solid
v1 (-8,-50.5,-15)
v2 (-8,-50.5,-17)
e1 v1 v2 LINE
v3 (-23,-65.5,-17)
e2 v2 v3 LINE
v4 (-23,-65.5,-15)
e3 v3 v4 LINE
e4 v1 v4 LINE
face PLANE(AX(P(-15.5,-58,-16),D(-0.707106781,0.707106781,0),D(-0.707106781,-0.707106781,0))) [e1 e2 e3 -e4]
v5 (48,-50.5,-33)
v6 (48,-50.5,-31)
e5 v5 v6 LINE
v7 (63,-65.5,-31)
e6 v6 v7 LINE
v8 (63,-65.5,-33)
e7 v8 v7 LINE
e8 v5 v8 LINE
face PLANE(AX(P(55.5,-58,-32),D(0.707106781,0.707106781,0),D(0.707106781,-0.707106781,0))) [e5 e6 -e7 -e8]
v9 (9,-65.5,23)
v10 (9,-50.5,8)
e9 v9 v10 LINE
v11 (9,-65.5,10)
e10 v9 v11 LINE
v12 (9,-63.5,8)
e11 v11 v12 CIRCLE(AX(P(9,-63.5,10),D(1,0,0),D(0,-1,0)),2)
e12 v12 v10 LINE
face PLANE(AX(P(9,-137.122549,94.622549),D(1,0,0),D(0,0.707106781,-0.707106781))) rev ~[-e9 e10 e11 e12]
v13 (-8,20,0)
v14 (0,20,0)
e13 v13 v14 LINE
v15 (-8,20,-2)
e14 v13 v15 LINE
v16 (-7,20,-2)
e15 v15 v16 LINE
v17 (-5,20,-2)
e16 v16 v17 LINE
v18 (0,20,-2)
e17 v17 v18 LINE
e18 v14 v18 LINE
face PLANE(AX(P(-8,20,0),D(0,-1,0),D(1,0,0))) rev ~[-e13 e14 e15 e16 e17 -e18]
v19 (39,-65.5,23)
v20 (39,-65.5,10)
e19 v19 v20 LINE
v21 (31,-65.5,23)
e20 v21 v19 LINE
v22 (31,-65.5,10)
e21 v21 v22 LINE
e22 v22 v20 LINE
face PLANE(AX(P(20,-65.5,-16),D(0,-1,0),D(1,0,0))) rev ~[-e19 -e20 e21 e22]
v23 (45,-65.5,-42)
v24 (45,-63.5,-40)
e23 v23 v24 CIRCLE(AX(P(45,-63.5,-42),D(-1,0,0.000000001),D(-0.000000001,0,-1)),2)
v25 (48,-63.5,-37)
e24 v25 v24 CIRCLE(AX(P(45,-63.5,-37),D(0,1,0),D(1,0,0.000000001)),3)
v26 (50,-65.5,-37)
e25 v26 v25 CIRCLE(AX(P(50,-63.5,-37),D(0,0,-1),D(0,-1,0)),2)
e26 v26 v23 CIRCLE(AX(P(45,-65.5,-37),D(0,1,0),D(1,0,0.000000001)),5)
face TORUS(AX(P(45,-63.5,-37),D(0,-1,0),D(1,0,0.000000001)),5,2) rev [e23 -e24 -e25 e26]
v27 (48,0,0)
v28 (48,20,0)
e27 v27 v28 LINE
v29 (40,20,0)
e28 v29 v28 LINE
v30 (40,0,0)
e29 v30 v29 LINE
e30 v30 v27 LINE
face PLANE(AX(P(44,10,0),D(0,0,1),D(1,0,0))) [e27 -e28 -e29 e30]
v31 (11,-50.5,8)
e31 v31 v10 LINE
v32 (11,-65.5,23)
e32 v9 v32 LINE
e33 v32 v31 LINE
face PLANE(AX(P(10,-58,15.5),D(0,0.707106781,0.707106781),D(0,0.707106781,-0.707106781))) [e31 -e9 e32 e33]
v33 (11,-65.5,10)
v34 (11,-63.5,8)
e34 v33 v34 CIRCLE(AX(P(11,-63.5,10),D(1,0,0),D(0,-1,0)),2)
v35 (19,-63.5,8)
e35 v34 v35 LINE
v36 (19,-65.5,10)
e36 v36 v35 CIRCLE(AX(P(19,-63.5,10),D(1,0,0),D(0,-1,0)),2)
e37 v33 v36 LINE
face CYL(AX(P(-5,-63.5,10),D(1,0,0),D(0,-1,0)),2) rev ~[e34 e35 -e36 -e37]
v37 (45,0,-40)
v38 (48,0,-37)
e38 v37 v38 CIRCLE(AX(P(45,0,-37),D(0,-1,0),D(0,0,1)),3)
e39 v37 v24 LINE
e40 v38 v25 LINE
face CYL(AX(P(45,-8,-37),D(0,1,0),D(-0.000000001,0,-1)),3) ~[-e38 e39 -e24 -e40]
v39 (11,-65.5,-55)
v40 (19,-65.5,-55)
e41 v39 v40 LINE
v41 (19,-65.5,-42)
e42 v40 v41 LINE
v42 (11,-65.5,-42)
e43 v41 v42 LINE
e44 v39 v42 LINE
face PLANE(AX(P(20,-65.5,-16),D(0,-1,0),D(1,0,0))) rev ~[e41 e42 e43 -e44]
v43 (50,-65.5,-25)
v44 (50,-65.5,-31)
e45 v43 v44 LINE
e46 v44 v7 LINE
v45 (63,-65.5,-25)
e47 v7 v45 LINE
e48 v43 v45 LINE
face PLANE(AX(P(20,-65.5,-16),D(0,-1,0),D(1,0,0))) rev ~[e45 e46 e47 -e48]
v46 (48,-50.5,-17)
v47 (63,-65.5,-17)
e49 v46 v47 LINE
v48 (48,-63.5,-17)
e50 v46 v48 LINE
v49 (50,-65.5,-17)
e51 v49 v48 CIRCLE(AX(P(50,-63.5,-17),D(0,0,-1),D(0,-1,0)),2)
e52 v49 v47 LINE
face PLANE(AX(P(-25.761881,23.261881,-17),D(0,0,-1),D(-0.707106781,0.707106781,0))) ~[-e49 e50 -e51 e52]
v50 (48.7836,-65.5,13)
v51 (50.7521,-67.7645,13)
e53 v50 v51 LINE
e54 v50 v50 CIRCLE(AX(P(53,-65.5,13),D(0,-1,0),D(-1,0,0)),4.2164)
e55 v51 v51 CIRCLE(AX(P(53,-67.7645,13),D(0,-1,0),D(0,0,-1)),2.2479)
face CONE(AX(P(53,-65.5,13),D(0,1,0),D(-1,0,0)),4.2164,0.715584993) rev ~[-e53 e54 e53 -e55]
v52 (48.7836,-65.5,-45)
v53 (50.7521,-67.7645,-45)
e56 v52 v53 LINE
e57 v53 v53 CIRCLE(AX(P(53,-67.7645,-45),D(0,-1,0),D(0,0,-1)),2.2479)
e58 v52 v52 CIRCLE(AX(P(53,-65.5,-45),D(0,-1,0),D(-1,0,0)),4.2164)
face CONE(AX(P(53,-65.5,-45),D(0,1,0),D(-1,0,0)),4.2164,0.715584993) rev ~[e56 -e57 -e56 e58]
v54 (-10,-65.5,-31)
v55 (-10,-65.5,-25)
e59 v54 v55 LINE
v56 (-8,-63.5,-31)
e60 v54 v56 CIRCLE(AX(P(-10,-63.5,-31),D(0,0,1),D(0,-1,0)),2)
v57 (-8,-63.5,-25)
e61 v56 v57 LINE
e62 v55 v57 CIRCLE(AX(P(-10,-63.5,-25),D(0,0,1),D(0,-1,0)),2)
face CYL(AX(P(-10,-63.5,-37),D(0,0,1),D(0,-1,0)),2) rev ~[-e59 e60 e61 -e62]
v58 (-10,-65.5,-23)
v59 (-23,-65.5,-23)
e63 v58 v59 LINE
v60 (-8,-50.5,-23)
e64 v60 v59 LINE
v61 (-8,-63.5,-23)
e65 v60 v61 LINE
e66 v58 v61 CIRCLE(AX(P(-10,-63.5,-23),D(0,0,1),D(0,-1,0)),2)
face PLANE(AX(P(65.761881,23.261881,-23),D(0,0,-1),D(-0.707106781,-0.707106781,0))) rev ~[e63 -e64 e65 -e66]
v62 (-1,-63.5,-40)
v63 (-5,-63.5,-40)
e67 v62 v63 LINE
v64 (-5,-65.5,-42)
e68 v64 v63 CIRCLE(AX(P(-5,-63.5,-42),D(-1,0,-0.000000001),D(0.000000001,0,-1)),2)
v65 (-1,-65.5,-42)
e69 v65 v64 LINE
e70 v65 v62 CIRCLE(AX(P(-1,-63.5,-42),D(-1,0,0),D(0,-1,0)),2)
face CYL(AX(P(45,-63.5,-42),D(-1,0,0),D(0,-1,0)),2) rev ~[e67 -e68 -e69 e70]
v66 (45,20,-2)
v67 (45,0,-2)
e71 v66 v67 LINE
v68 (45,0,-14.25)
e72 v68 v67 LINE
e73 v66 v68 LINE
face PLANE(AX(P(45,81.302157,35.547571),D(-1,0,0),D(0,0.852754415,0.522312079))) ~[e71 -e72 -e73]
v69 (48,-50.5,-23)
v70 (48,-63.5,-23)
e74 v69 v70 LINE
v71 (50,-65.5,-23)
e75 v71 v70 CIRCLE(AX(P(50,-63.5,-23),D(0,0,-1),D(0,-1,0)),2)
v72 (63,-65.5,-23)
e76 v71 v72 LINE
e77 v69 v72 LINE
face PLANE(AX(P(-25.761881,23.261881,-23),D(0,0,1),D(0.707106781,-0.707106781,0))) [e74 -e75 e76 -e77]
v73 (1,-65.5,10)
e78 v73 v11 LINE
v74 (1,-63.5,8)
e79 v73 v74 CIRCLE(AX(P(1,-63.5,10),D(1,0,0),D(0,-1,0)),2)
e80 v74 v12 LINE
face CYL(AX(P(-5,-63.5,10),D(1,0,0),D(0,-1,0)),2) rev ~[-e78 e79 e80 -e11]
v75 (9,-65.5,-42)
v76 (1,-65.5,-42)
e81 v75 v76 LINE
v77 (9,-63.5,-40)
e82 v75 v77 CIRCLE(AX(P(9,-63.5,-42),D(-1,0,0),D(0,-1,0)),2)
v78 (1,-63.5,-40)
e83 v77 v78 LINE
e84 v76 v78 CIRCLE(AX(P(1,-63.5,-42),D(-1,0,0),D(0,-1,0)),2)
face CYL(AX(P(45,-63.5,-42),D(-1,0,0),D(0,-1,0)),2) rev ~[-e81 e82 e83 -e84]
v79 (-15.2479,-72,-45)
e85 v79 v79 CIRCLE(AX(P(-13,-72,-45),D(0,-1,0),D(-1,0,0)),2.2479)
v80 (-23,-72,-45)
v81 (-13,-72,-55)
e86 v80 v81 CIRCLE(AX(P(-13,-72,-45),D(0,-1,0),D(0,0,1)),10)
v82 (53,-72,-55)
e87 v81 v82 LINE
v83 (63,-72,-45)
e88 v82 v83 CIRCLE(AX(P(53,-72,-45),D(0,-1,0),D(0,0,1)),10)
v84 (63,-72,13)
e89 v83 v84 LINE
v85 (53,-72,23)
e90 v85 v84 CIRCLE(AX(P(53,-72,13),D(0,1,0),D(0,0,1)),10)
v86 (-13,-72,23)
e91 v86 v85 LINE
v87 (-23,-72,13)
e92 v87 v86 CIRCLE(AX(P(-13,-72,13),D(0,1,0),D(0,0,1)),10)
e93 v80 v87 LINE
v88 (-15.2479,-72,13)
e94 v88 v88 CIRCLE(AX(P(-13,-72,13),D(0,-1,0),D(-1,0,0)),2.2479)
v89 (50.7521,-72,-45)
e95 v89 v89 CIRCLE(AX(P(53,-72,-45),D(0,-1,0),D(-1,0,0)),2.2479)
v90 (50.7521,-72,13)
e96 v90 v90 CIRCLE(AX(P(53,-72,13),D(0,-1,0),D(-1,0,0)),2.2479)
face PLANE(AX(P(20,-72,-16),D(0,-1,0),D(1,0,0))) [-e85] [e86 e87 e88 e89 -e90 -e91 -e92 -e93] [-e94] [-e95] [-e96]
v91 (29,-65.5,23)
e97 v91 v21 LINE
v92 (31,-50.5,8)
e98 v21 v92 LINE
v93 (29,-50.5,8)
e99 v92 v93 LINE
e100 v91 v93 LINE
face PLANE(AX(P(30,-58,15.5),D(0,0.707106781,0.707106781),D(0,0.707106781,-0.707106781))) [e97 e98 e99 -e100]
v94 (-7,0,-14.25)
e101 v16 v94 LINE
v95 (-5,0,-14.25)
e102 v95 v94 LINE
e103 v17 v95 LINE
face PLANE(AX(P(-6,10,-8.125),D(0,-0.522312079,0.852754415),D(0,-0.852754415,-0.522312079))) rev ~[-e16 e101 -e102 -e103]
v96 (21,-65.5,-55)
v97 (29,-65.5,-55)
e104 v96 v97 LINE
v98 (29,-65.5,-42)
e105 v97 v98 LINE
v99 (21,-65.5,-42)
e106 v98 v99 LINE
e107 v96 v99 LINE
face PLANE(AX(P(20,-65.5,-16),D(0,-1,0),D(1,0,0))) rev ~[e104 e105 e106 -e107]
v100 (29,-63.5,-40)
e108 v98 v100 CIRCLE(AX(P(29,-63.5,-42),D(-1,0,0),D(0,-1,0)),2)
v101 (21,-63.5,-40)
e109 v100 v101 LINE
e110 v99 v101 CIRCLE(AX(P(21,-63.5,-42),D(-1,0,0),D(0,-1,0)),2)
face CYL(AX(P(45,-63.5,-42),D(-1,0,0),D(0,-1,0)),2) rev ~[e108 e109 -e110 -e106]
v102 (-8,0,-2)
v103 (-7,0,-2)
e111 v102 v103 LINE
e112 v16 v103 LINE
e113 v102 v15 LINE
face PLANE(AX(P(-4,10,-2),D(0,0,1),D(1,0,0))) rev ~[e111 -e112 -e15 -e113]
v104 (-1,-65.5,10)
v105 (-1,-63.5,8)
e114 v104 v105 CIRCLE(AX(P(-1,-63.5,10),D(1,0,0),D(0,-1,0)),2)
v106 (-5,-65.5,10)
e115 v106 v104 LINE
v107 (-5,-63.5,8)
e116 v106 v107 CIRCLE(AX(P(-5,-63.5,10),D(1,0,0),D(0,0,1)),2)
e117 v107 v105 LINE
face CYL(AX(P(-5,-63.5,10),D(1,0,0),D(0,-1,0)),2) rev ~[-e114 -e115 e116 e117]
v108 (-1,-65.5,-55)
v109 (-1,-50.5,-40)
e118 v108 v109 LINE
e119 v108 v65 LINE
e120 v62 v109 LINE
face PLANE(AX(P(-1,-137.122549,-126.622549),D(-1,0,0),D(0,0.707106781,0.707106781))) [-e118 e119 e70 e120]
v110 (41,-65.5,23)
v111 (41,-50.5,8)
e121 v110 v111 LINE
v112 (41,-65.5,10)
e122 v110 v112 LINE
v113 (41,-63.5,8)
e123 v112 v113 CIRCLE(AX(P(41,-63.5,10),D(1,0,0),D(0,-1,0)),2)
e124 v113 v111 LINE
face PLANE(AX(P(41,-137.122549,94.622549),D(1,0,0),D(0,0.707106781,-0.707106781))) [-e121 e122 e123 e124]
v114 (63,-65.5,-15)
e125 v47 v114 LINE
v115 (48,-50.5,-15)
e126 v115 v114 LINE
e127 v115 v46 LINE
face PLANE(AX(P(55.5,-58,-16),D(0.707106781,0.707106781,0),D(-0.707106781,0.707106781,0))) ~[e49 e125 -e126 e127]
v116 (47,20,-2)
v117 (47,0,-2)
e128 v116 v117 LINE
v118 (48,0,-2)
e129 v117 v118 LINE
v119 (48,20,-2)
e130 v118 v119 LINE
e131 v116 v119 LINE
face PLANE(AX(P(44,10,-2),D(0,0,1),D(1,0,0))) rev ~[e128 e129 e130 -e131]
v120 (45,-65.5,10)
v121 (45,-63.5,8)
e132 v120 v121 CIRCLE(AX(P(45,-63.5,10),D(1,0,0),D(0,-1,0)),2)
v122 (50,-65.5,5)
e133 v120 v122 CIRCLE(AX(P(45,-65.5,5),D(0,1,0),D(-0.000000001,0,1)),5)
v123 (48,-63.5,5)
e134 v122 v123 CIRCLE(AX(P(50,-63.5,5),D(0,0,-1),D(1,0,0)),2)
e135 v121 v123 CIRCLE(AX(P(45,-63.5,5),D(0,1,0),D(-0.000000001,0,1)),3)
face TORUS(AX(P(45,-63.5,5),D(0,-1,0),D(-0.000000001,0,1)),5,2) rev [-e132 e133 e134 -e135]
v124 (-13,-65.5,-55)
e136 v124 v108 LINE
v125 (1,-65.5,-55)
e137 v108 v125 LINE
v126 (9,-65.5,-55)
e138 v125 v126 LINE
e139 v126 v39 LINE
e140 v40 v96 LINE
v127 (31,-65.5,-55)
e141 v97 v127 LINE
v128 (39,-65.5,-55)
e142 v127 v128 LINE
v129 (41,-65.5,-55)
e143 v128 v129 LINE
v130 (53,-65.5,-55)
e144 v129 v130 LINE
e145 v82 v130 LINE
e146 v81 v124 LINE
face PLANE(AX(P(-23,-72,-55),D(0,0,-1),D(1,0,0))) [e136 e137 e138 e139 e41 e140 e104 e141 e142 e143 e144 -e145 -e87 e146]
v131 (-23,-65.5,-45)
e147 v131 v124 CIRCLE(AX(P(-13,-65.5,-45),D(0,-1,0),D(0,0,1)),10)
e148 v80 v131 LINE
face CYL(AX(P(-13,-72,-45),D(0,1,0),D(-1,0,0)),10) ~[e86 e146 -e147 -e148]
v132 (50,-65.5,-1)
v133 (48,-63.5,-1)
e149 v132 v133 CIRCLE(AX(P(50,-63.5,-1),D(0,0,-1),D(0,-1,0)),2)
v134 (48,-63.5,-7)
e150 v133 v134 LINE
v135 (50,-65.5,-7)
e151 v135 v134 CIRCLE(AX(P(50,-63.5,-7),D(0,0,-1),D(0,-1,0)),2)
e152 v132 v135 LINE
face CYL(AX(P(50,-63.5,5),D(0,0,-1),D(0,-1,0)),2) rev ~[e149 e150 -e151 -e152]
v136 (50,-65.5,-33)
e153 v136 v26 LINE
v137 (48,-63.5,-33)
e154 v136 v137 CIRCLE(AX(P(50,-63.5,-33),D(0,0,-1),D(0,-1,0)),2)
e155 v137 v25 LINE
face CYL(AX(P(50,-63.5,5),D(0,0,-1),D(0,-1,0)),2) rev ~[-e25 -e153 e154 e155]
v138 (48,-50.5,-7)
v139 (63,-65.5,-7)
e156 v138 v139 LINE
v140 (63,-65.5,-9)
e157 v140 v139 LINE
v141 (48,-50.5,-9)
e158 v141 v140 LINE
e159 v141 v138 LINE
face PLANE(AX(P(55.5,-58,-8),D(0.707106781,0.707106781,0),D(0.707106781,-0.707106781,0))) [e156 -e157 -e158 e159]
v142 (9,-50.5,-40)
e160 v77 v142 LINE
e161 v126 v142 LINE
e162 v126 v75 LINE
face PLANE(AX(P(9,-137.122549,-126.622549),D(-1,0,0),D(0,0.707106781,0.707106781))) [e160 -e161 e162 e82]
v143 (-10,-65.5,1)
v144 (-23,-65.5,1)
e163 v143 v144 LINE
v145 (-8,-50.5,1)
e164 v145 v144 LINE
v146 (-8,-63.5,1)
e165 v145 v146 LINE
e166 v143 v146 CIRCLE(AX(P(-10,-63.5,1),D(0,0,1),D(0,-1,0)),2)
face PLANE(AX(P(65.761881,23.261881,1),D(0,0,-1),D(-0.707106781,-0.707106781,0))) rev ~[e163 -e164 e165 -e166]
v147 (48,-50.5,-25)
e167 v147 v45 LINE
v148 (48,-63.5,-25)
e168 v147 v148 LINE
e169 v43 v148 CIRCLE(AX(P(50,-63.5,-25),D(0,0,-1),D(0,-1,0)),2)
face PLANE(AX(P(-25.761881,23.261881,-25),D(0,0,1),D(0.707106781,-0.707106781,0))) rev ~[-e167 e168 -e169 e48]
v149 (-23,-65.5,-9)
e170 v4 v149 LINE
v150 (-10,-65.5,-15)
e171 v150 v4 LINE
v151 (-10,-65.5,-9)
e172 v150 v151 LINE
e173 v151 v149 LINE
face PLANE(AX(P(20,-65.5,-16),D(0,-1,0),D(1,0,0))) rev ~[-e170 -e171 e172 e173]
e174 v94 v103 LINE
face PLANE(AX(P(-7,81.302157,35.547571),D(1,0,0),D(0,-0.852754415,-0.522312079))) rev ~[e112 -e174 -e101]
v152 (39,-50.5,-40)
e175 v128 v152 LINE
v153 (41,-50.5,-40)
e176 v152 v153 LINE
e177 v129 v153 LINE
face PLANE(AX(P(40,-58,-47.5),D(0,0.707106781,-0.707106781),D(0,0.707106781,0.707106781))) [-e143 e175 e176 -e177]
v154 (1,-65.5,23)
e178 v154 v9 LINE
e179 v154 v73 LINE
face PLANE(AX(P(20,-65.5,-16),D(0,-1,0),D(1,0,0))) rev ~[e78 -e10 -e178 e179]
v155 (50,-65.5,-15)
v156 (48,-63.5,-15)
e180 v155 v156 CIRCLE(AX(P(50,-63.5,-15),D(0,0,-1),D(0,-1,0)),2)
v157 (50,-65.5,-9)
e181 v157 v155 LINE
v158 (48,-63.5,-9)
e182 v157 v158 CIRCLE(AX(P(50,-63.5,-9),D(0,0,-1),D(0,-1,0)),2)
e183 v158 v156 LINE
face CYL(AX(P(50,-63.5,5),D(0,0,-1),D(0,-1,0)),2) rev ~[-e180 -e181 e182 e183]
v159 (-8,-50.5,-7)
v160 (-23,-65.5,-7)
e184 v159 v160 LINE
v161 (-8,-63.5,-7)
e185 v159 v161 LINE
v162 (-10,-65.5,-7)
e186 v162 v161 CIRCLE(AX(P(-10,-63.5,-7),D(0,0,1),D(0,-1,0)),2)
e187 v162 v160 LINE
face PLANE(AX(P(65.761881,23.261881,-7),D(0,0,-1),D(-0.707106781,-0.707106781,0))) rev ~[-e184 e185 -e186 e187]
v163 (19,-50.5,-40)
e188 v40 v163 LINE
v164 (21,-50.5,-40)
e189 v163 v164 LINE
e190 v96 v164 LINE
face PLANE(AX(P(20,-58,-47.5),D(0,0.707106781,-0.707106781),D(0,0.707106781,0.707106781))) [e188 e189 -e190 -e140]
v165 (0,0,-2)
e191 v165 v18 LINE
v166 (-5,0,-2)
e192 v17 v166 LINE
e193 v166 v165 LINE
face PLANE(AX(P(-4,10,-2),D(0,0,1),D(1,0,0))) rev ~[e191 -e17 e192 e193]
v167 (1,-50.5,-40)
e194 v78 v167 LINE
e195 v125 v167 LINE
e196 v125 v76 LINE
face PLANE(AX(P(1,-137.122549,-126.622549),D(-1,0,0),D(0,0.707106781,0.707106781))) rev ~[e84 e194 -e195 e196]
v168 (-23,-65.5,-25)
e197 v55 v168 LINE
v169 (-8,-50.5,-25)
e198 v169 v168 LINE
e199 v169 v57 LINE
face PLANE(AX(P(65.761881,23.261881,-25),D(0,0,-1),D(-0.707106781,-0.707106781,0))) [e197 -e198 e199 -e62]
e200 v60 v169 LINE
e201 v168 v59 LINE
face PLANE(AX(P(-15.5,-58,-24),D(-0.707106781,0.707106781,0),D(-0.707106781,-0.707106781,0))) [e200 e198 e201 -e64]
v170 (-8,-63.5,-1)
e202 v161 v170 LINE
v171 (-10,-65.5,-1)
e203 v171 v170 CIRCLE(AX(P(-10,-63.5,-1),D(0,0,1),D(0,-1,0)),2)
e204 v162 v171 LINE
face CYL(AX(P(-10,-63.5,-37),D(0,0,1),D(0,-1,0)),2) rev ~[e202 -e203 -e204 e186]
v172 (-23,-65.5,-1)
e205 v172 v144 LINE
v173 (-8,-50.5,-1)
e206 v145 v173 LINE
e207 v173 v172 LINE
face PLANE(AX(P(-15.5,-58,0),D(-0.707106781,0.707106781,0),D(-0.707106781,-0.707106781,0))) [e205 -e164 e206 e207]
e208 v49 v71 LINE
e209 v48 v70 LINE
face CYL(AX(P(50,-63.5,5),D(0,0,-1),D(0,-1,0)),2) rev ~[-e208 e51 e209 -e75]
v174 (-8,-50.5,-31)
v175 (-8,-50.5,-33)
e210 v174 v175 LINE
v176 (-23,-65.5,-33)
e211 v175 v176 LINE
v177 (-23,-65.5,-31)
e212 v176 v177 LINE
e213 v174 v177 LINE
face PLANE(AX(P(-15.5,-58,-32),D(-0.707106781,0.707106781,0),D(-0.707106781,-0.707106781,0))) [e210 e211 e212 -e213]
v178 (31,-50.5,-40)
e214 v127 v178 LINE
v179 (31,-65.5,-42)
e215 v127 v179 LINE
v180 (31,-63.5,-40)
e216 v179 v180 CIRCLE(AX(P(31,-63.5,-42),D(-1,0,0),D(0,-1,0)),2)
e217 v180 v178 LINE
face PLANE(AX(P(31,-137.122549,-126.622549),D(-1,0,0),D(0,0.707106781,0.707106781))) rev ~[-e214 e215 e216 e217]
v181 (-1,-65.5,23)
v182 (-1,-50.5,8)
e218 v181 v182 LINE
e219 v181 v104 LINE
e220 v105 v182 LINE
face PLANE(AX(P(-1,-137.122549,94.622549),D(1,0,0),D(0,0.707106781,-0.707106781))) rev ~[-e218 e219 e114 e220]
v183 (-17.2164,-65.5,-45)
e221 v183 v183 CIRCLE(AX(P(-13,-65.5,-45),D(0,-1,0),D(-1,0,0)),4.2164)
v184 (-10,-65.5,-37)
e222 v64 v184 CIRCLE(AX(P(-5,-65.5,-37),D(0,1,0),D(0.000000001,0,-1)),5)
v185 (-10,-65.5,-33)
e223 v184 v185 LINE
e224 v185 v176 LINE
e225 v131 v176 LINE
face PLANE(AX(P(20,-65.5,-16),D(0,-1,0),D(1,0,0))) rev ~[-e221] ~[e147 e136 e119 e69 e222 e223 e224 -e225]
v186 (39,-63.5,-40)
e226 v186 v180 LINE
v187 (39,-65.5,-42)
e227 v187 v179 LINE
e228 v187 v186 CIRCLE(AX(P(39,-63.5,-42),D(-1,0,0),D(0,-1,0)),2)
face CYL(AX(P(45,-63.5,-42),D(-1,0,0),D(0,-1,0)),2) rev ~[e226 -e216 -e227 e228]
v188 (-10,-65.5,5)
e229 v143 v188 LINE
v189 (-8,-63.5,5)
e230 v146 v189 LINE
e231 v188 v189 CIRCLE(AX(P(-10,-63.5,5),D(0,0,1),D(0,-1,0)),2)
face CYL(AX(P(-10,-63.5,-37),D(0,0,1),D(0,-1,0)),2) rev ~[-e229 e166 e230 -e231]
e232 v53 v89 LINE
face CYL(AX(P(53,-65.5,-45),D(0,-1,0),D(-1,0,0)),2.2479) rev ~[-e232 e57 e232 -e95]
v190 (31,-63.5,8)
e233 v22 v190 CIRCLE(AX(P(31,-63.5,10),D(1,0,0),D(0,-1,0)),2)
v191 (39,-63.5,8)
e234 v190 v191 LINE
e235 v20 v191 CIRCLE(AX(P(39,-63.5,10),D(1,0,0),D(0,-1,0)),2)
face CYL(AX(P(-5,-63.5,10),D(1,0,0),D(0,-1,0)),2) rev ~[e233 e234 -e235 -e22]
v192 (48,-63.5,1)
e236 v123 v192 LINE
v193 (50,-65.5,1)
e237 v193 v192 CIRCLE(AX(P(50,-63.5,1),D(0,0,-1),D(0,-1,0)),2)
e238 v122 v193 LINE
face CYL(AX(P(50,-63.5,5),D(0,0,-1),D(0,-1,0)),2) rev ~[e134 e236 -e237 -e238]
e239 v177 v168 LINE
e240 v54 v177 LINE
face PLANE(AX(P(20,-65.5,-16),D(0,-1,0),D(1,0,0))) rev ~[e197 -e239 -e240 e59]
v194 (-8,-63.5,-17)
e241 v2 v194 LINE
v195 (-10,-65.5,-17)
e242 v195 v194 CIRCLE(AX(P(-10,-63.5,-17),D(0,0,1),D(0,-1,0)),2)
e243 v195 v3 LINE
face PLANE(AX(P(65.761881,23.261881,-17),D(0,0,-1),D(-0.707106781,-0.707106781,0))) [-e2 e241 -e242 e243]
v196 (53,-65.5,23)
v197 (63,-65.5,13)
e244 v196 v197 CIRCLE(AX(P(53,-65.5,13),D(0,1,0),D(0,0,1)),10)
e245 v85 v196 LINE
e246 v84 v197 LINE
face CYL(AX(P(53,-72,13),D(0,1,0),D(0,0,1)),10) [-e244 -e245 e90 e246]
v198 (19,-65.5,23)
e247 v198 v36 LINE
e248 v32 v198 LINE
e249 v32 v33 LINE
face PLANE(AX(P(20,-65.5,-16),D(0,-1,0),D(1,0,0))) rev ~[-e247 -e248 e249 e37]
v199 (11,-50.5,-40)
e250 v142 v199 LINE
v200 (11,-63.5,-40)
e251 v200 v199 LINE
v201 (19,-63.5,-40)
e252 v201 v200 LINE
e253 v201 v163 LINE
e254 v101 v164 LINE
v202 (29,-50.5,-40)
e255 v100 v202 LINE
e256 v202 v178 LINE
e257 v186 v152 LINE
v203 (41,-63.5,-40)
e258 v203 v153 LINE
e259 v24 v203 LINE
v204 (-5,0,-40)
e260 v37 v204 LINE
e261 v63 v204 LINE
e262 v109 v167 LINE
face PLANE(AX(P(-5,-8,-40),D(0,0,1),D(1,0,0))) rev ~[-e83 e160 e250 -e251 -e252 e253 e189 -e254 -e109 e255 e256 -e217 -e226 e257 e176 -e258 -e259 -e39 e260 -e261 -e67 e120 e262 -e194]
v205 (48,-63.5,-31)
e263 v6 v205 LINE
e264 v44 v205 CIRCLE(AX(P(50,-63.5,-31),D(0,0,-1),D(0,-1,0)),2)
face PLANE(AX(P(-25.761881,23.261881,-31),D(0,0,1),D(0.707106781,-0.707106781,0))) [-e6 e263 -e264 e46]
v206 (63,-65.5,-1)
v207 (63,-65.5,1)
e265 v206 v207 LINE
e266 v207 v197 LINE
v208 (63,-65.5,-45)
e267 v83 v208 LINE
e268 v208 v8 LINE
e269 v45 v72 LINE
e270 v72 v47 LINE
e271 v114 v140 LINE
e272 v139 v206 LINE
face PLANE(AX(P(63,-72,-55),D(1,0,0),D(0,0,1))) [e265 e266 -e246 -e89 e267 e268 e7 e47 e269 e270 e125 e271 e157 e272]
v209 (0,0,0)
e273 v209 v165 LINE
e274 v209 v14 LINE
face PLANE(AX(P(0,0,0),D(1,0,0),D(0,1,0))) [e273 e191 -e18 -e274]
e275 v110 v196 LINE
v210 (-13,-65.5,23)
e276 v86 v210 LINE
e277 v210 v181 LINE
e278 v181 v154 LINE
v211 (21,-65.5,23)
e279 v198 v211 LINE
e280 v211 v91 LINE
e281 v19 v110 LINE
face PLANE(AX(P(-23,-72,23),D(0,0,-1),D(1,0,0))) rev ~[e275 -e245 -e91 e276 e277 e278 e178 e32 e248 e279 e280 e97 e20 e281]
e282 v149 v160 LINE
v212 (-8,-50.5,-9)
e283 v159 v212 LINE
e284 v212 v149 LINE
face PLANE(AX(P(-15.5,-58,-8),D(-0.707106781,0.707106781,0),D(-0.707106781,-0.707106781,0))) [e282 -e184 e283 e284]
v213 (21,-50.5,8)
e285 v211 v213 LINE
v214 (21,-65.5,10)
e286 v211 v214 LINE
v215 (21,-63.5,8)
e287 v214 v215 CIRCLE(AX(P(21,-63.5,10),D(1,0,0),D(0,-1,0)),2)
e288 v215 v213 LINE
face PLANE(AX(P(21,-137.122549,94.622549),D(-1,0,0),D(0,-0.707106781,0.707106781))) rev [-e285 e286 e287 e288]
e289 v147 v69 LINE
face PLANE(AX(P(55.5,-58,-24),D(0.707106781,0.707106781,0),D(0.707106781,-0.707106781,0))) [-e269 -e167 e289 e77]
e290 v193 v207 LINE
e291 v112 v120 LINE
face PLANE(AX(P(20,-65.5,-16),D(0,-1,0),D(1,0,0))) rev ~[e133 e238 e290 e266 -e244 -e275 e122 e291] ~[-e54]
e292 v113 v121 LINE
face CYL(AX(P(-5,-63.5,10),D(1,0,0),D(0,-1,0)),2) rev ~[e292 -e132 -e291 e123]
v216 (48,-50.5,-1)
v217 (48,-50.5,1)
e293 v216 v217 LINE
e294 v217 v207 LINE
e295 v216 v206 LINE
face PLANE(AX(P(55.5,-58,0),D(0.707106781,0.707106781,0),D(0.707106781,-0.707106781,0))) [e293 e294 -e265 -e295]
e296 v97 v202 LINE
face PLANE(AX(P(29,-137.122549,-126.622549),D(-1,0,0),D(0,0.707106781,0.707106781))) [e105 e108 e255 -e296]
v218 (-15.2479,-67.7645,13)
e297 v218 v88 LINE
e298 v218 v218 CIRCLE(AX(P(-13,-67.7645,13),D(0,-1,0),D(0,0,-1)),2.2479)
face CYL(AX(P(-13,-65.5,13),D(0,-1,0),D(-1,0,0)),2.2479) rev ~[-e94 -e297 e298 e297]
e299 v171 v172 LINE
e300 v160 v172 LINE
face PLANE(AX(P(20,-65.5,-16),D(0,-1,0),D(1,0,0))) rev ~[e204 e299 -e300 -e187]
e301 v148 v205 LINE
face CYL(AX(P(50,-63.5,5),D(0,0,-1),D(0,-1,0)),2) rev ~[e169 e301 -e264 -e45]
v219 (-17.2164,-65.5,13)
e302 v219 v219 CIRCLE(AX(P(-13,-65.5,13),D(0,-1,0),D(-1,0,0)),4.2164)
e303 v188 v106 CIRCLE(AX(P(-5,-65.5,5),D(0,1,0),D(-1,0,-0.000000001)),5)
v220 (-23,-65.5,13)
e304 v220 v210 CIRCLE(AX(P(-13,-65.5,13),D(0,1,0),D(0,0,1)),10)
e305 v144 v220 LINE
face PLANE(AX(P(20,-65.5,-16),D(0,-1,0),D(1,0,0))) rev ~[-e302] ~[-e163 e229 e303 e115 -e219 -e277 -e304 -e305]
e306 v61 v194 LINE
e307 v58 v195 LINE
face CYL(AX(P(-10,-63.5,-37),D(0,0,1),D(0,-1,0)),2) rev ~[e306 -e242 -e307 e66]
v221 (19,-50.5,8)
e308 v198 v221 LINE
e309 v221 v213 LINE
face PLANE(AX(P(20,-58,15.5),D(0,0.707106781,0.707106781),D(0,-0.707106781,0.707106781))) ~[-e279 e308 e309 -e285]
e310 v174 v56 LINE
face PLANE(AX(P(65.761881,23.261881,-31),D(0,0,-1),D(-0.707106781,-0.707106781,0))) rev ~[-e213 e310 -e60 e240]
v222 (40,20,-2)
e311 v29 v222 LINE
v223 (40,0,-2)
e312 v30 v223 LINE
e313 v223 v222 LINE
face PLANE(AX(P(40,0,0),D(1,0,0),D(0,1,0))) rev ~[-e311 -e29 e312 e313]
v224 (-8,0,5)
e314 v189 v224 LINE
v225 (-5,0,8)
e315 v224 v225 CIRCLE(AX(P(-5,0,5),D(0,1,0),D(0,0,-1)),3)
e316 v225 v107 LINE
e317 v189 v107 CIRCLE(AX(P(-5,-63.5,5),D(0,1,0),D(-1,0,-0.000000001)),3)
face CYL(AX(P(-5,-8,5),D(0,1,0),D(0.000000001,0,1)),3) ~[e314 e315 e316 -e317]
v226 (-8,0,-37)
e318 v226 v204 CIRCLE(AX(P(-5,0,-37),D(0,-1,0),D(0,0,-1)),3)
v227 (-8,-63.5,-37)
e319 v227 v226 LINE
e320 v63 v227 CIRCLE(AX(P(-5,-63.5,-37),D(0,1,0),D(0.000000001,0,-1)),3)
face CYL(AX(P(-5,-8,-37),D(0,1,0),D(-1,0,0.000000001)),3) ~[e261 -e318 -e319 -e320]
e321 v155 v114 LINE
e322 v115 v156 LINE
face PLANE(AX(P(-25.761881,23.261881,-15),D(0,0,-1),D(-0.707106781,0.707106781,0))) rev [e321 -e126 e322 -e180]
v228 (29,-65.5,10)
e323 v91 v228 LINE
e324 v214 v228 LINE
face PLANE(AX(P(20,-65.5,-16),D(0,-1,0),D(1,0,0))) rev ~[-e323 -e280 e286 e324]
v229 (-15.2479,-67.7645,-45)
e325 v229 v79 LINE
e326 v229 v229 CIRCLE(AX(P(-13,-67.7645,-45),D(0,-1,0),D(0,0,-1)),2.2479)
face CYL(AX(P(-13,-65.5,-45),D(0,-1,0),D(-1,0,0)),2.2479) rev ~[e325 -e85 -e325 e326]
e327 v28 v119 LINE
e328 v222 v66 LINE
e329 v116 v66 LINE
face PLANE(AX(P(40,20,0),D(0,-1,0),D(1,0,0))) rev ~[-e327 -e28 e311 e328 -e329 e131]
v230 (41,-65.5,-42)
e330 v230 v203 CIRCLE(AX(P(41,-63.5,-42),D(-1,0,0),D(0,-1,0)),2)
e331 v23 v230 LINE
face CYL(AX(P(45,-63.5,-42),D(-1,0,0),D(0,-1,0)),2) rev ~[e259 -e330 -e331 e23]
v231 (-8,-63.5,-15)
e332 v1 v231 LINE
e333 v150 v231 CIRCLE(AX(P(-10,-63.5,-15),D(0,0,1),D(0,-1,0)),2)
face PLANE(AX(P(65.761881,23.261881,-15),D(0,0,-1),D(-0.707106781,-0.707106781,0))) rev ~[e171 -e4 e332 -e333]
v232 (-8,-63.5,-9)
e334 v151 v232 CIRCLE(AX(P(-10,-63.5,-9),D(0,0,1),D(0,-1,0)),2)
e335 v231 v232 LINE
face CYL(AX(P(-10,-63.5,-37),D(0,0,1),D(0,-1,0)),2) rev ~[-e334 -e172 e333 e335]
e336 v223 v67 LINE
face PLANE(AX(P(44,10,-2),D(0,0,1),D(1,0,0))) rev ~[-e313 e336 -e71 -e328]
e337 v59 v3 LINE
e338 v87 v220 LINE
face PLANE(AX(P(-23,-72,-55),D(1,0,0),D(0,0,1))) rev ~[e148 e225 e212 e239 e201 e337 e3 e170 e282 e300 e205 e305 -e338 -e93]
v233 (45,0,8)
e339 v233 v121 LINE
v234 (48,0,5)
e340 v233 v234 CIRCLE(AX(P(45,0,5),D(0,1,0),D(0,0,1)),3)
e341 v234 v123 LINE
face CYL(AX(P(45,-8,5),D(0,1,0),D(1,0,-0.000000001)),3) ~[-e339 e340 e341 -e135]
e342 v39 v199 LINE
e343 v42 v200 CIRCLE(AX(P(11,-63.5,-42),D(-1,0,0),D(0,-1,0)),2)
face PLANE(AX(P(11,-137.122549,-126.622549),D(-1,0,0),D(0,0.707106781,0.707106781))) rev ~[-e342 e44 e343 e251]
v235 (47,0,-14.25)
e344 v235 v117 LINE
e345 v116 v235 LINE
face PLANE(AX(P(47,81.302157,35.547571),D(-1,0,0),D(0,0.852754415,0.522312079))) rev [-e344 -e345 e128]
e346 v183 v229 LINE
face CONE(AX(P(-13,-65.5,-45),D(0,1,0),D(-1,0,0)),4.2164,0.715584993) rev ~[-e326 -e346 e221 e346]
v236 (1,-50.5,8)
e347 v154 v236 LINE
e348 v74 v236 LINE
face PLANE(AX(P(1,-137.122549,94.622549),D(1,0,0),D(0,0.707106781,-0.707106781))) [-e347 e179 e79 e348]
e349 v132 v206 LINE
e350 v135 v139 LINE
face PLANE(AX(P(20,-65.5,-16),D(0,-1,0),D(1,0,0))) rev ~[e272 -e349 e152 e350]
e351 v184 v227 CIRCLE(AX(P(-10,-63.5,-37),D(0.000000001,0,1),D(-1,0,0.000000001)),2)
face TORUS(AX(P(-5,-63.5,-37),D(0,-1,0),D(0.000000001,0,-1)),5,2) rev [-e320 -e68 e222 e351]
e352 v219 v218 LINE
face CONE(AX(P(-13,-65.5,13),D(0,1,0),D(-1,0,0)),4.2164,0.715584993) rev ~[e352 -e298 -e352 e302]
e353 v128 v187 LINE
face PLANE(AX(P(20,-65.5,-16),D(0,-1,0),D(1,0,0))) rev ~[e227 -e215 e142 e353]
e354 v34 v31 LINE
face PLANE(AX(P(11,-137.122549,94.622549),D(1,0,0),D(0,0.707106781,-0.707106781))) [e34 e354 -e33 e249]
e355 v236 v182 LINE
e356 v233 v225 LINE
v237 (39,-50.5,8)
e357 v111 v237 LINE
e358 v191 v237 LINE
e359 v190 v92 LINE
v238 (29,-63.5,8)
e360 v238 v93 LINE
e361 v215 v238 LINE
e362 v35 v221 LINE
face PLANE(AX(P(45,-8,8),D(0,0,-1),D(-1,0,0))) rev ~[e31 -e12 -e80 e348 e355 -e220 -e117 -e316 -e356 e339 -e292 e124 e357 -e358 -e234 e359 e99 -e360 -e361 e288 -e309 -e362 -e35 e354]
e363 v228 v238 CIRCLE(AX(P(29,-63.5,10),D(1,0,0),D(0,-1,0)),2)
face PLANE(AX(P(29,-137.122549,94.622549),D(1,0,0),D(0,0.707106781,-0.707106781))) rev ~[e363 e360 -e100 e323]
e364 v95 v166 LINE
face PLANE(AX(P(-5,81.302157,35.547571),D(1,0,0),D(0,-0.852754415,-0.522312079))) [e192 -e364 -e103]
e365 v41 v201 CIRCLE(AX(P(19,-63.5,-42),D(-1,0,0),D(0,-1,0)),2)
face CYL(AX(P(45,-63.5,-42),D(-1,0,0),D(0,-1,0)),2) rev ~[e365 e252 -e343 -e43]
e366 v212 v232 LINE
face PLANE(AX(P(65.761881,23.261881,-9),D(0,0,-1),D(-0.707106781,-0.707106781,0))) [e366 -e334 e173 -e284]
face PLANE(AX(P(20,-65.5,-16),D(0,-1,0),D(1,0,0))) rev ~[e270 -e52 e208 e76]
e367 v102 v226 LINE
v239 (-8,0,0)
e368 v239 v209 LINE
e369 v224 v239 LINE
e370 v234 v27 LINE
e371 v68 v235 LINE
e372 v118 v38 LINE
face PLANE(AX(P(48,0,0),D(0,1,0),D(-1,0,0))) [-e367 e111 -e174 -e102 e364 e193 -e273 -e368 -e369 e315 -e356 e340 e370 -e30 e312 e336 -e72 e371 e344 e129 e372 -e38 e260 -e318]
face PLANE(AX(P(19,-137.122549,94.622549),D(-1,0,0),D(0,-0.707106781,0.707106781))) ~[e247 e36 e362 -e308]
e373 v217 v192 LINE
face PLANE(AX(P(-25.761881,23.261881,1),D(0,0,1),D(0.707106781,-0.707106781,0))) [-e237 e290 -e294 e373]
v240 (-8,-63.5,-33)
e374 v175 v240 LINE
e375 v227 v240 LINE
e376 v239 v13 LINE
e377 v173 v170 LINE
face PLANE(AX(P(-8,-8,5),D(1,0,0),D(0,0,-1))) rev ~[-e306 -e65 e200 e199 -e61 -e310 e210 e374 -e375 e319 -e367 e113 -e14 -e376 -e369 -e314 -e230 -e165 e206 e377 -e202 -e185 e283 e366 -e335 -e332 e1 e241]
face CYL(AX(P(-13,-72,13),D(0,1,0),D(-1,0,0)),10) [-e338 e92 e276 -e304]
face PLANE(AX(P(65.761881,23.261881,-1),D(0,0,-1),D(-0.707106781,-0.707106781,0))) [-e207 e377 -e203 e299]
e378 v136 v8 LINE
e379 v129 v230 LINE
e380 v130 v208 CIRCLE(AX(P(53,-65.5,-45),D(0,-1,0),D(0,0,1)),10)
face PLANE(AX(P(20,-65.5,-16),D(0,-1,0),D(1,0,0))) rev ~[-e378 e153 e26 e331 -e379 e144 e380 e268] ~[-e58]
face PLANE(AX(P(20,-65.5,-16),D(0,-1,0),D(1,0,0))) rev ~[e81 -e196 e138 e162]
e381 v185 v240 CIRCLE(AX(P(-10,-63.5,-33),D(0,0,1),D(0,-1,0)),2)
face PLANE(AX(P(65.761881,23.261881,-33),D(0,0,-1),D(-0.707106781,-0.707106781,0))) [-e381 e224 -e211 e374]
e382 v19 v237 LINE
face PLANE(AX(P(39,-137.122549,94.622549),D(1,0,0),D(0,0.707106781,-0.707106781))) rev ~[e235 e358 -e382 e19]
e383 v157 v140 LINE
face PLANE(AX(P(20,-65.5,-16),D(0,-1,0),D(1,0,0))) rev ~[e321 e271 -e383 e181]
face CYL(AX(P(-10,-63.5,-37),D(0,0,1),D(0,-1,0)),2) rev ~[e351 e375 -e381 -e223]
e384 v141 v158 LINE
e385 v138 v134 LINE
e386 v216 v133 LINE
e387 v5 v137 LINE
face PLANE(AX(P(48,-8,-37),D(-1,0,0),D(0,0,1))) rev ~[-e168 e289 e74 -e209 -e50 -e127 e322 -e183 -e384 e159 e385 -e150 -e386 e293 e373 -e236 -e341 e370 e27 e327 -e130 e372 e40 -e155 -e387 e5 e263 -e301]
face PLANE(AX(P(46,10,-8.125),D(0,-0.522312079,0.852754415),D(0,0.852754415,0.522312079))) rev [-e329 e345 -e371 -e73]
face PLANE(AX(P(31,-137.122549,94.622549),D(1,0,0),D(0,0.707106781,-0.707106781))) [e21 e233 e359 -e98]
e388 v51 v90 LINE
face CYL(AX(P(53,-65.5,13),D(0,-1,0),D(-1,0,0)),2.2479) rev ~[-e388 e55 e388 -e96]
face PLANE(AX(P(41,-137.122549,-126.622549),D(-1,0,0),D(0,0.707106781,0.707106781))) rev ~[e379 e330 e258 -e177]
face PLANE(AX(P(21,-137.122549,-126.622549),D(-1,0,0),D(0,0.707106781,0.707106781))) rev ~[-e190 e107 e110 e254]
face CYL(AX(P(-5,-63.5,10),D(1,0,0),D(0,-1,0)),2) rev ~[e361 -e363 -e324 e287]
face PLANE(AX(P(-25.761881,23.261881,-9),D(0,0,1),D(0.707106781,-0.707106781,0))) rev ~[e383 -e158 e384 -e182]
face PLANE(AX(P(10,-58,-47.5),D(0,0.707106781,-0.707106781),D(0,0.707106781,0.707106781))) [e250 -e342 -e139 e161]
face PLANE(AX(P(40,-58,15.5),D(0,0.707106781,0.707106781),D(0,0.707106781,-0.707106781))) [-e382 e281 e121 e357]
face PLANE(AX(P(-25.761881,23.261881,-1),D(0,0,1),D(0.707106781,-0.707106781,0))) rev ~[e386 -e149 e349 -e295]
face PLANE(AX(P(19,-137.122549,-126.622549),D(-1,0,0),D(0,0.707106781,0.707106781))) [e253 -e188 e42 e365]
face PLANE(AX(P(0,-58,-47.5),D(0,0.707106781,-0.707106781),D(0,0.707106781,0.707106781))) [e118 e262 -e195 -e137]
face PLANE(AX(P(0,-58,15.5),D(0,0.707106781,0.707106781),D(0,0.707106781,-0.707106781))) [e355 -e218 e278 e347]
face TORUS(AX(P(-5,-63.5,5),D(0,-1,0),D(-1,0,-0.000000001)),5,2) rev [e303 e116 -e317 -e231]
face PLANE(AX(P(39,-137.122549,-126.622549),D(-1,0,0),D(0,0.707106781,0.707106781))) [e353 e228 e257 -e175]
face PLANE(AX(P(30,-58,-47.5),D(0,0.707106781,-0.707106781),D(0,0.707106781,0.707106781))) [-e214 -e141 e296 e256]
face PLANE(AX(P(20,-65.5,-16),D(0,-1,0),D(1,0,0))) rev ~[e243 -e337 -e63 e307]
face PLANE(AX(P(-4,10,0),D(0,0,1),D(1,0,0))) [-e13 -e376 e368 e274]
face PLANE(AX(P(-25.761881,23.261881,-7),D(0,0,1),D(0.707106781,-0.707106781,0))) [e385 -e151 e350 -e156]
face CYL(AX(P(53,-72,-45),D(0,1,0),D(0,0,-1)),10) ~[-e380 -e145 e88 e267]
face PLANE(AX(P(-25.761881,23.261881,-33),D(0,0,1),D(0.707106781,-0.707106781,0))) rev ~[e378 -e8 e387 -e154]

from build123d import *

# Parameters (mm, degrees)
BOSS_EXTRUDE1_DEPTH                            = 8
BOSS_EXTRUDE2_DEPTH                            = 40
SKETCH1_4_W                                    = 8
SKETCH1_4_H                                    = 20
BOSS_EXTRUDE3_DEPTH                            = 2
RIB3_REACH                                     = 72.887
SKETCH3_WALL_W                                 = 167.227880054
SKETCH3_WALL_H                                 = 2
FILLET2_R                                      = 3
BOSS_EXTRUDE4_DEPTH                            = 64
SKETCH5_W                                      = 86
SKETCH5_H                                      = 78
BOSS_EXTRUDE5_DEPTH                            = 6.5
FILLET3_R                                      = 10
CSK_FOR_8_FLAT_HEAD_MACHINE_SCREW1_D           = 4.4958
CSK_FOR_8_FLAT_HEAD_MACHINE_SCREW1_CSINK_D     = 8.4328
CSK_FOR_8_FLAT_HEAD_MACHINE_SCREW1_CSINK_ANGLE = 82
FILLET4_R                                      = 2
RIB4_REACH                                     = 102.29
SKETCH7_WALL_W                                 = 223.792364866
SKETCH7_WALL_H                                 = 2
LPATTERN1_COUNT                                = 3
LPATTERN1_PITCH                                = 10
LPATTERN1_COL_COUNT                            = 3
LPATTERN1_COL_PITCH                            = 10
MIRROR3_COPY_1_REACH                           = 102.29
MIRROR3_COPY_1_SKETCH_W                        = 223.792364866
MIRROR3_COPY_1_SKETCH_H                        = 2
MIRROR3_COPY_2_REACH                           = 102.29
MIRROR3_COPY_2_SKETCH_W                        = 223.792364866
MIRROR3_COPY_2_SKETCH_H                        = 2
MIRROR3_COPY_3_REACH                           = 102.29
MIRROR3_COPY_3_SKETCH_W                        = 223.792364866
MIRROR3_COPY_3_SKETCH_H                        = 2
MIRROR3_COPY_4_REACH                           = 102.29
MIRROR3_COPY_4_SKETCH_W                        = 223.792364866
MIRROR3_COPY_4_SKETCH_H                        = 2
RIB5_REACH                                     = 105.315
SKETCH8_WALL_W                                 = 229.843307728
SKETCH8_WALL_H                                 = 2
LPATTERN2_COUNT                                = 3
LPATTERN2_PITCH                                = 8
LPATTERN2_COL_COUNT                            = 3
LPATTERN2_COL_PITCH                            = 8
MIRROR4_COPY_1_REACH                           = 105.315
MIRROR4_COPY_1_SKETCH_W                        = 229.843307728
MIRROR4_COPY_1_SKETCH_H                        = 2
MIRROR4_COPY_2_REACH                           = 105.315
MIRROR4_COPY_2_SKETCH_W                        = 229.843307728
MIRROR4_COPY_2_SKETCH_H                        = 2
MIRROR4_COPY_3_REACH                           = 105.315
MIRROR4_COPY_3_SKETCH_W                        = 229.843307728
MIRROR4_COPY_3_SKETCH_H                        = 2
MIRROR4_COPY_4_REACH                           = 105.315
MIRROR4_COPY_4_SKETCH_W                        = 229.843307728
MIRROR4_COPY_4_SKETCH_H                        = 2


with BuildPart() as part:
    # Sketch1 → Boss-Extrude1 (new body)
    with BuildSketch(Plane.XY):
        Polygon((40, 0), (0, 0), (-8, 0), (-8, -8), (48, -8), (48, 0), align=None)
    extrude(amount=BOSS_EXTRUDE1_DEPTH)

    # Sketch1<3> → Boss-Extrude2 (add)
    with BuildSketch(Plane.XY):
        Polygon((40, 0), (0, 0), (-8, 0), (-8, -8), (48, -8), (48, 0), align=None)
    extrude(amount=-BOSS_EXTRUDE2_DEPTH)

    # Sketch1<4> → Boss-Extrude3 (add)
    with BuildSketch(Plane.XY):
        with Locations((-4, 10)):
            Rectangle(SKETCH1_4_W, SKETCH1_4_H)
        with Locations((44, 10)):
            Rectangle(SKETCH1_4_W, SKETCH1_4_H)
    extrude(amount=-BOSS_EXTRUDE3_DEPTH)

    # Sketch3 wall → Rib3 (add, up to next)
    with BuildSketch(Plane(origin=(-7, 10, -8.125), x_dir=(0, -0.852754414843, -0.522312079092), z_dir=(0, -0.522312079092, 0.852754414843)), mode=Mode.PRIVATE) as rib3_sk1:
        with Locations((0, 1)):
            Rectangle(SKETCH3_WALL_W, SKETCH3_WALL_H)
    rib3_tool1 = extrude(rib3_sk1.sketch, amount=RIB3_REACH, mode=Mode.PRIVATE) - part.part
    rib3 = rib3_tool1.solids().sort_by_distance((-7, 10, -8.125))[0]
    add(rib3)

    # Mirror2: Rib3 across plane
    add(rib3.mirror(Plane.ZY.offset(-20)))

    # Fillet2
    fillet2_edges = [part.edges().sort_by_distance(p)[0] for p in [
        (-8, -4, 8),
        (-8, -4, -40),
        (48, -4, -40),
        (48, -4, 8),
    ]]
    fillet(fillet2_edges, radius=FILLET2_R)

    # Sketch4 → Boss-Extrude4 (add)
    with BuildSketch(Plane.XZ.offset(8)):
        with BuildLine():
            Line((-5, -40), (45, -40))
            ThreePointArc((45, -40), (47.121320344, -39.121320344), (48, -37))
            Line((48, -37), (48, 5))
            ThreePointArc((48, 5), (47.121320344, 7.121320344), (45, 8))
            Line((45, 8), (-5, 8))
            ThreePointArc((-5, 8), (-7.121320344, 7.121320344), (-8, 5))
            Line((-8, 5), (-8, -37))
            ThreePointArc((-8, -37), (-7.121320344, -39.121320344), (-5, -40))
        make_face()
    extrude(amount=BOSS_EXTRUDE4_DEPTH)

    # Sketch5 → Boss-Extrude5 (add)
    with BuildSketch(Plane.XZ.offset(72)):
        with Locations((20, -16)):
            Rectangle(SKETCH5_W, SKETCH5_H)
    extrude(amount=-BOSS_EXTRUDE5_DEPTH)

    # Fillet3
    fillet3_edges = [part.edges().sort_by_distance(p)[0] for p in [
        (-23, -68.75, -55),
        (-23, -68.75, 23),
        (63, -68.75, 23),
        (63, -68.75, -55),
    ]]
    fillet(fillet3_edges, radius=FILLET3_R)

    # CSK for #8 Flat Head Machine Screw1 (through all)
    with Locations(Plane(origin=(-13, -65.5, 13), x_dir=(1, 0, 0), z_dir=(0, 1, 0))):
        with Locations((0, 0), (0, 58), (66, 0), (66, 58)):
            CounterSinkHole(CSK_FOR_8_FLAT_HEAD_MACHINE_SCREW1_D / 2, CSK_FOR_8_FLAT_HEAD_MACHINE_SCREW1_CSINK_D / 2, counter_sink_angle=CSK_FOR_8_FLAT_HEAD_MACHINE_SCREW1_CSINK_ANGLE)

    # Fillet4
    fillet4_edges = [part.edges().sort_by_distance(p)[0] for p in [
        (-7.121320344, -65.5, -39.121320344),
        (20, -65.5, -40),
        (-8, -65.5, -16),
        (48, -65.5, -16),
        (47.121320344, -65.5, 7.121320344),
        (20, -65.5, 8),
        (-7.121320344, -65.5, 7.121320344),
        (47.121320344, -65.5, -39.121320344),
    ]]
    fillet(fillet4_edges, radius=FILLET4_R)

    # Sketch7 wall → Rib4 (add, up to next)
    with BuildSketch(Plane(origin=(20, -58, -47.5), x_dir=(0, 0.707106781187, 0.707106781187), z_dir=(0, 0.707106781187, -0.707106781187)), mode=Mode.PRIVATE) as rib4_sk1:
        Rectangle(SKETCH7_WALL_W, SKETCH7_WALL_H)
    rib4_tool1 = extrude(rib4_sk1.sketch, amount=-RIB4_REACH, mode=Mode.PRIVATE) - part.part
    rib4 = rib4_tool1.solids().sort_by_distance((20, -58, -47.5))[0]
    add(rib4)

    # LPattern1: Rib4 ×3
    with Locations(*[(-i * LPATTERN1_PITCH, 0, 0) for i in range(1, LPATTERN1_COUNT)]):
        add(rib4)

    # LPattern1 col: Rib4 ×3
    with Locations(*[(i * LPATTERN1_COL_PITCH, 0, 0) for i in range(1, LPATTERN1_COL_COUNT)]):
        add(rib4)

    # Mirror3: Rib4 across plane
    add(rib4.mirror(Plane(origin=(0, 0, -16), x_dir=(1, 0, 0), z_dir=(0, 0, -1))))

    # Mirror3 copy 1 sketch → Mirror3 copy 1 (add, up to next)
    with BuildSketch(Plane(origin=(10, -58, 15.5), x_dir=(0, 0.707106781187, -0.707106781187), z_dir=(0, 0.707106781187, 0.707106781187)), mode=Mode.PRIVATE) as mirror3_copy_1_sk1:
        Rectangle(MIRROR3_COPY_1_SKETCH_W, MIRROR3_COPY_1_SKETCH_H)
    mirror3_copy_1_tool1 = extrude(mirror3_copy_1_sk1.sketch, amount=-MIRROR3_COPY_1_REACH, mode=Mode.PRIVATE) - part.part
    add(mirror3_copy_1_tool1.solids().sort_by_distance((10, -58, 15.5))[0])

    # Mirror3 copy 2 sketch → Mirror3 copy 2 (add, up to next)
    with BuildSketch(Plane(origin=(0, -58, 15.5), x_dir=(0, 0.707106781187, -0.707106781187), z_dir=(0, 0.707106781187, 0.707106781187)), mode=Mode.PRIVATE) as mirror3_copy_2_sk1:
        Rectangle(MIRROR3_COPY_2_SKETCH_W, MIRROR3_COPY_2_SKETCH_H)
    mirror3_copy_2_tool1 = extrude(mirror3_copy_2_sk1.sketch, amount=-MIRROR3_COPY_2_REACH, mode=Mode.PRIVATE) - part.part
    add(mirror3_copy_2_tool1.solids().sort_by_distance((0, -58, 15.5))[0])

    # Mirror3 copy 3 sketch → Mirror3 copy 3 (add, up to next)
    with BuildSketch(Plane(origin=(30, -58, 15.5), x_dir=(0, 0.707106781187, -0.707106781187), z_dir=(0, 0.707106781187, 0.707106781187)), mode=Mode.PRIVATE) as mirror3_copy_3_sk1:
        Rectangle(MIRROR3_COPY_3_SKETCH_W, MIRROR3_COPY_3_SKETCH_H)
    mirror3_copy_3_tool1 = extrude(mirror3_copy_3_sk1.sketch, amount=-MIRROR3_COPY_3_REACH, mode=Mode.PRIVATE) - part.part
    add(mirror3_copy_3_tool1.solids().sort_by_distance((30, -58, 15.5))[0])

    # Mirror3 copy 4 sketch → Mirror3 copy 4 (add, up to next)
    with BuildSketch(Plane(origin=(40, -58, 15.5), x_dir=(0, 0.707106781187, -0.707106781187), z_dir=(0, 0.707106781187, 0.707106781187)), mode=Mode.PRIVATE) as mirror3_copy_4_sk1:
        Rectangle(MIRROR3_COPY_4_SKETCH_W, MIRROR3_COPY_4_SKETCH_H)
    mirror3_copy_4_tool1 = extrude(mirror3_copy_4_sk1.sketch, amount=-MIRROR3_COPY_4_REACH, mode=Mode.PRIVATE) - part.part
    add(mirror3_copy_4_tool1.solids().sort_by_distance((40, -58, 15.5))[0])

    # Sketch8 wall → Rib5 (add, up to next)
    with BuildSketch(Plane(origin=(-15.5, -58, -16), x_dir=(-0.707106781187, -0.707106781187, 0), z_dir=(-0.707106781187, 0.707106781187, 0)), mode=Mode.PRIVATE) as rib5_sk1:
        Rectangle(SKETCH8_WALL_W, SKETCH8_WALL_H)
    rib5_tool1 = extrude(rib5_sk1.sketch, amount=-RIB5_REACH, mode=Mode.PRIVATE) - part.part
    rib5 = rib5_tool1.solids().sort_by_distance((-15.5, -58, -16))[0]
    add(rib5)

    # LPattern2: Rib5 ×3
    with Locations(*[(0, 0, -i * LPATTERN2_PITCH) for i in range(1, LPATTERN2_COUNT)]):
        add(rib5)

    # LPattern2 col: Rib5 ×3
    with Locations(*[(0, 0, i * LPATTERN2_COL_PITCH) for i in range(1, LPATTERN2_COL_COUNT)]):
        add(rib5)

    # Mirror4: Rib5 across plane
    add(rib5.mirror(Plane.ZY.offset(-20)))

    # Mirror4 copy 1 sketch → Mirror4 copy 1 (add, up to next)
    with BuildSketch(Plane(origin=(55.5, -58, -24), x_dir=(0.707106781187, -0.707106781187, 0), z_dir=(0.707106781187, 0.707106781187, 0)), mode=Mode.PRIVATE) as mirror4_copy_1_sk1:
        Rectangle(MIRROR4_COPY_1_SKETCH_W, MIRROR4_COPY_1_SKETCH_H)
    mirror4_copy_1_tool1 = extrude(mirror4_copy_1_sk1.sketch, amount=-MIRROR4_COPY_1_REACH, mode=Mode.PRIVATE) - part.part
    add(mirror4_copy_1_tool1.solids().sort_by_distance((55.5, -58, -24))[0])

    # Mirror4 copy 2 sketch → Mirror4 copy 2 (add, up to next)
    with BuildSketch(Plane(origin=(55.5, -58, -32), x_dir=(0.707106781187, -0.707106781187, 0), z_dir=(0.707106781187, 0.707106781187, 0)), mode=Mode.PRIVATE) as mirror4_copy_2_sk1:
        Rectangle(MIRROR4_COPY_2_SKETCH_W, MIRROR4_COPY_2_SKETCH_H)
    mirror4_copy_2_tool1 = extrude(mirror4_copy_2_sk1.sketch, amount=-MIRROR4_COPY_2_REACH, mode=Mode.PRIVATE) - part.part
    add(mirror4_copy_2_tool1.solids().sort_by_distance((55.5, -58, -32))[0])

    # Mirror4 copy 3 sketch → Mirror4 copy 3 (add, up to next)
    with BuildSketch(Plane(origin=(55.5, -58, -8), x_dir=(0.707106781187, -0.707106781187, 0), z_dir=(0.707106781187, 0.707106781187, 0)), mode=Mode.PRIVATE) as mirror4_copy_3_sk1:
        Rectangle(MIRROR4_COPY_3_SKETCH_W, MIRROR4_COPY_3_SKETCH_H)
    mirror4_copy_3_tool1 = extrude(mirror4_copy_3_sk1.sketch, amount=-MIRROR4_COPY_3_REACH, mode=Mode.PRIVATE) - part.part
    add(mirror4_copy_3_tool1.solids().sort_by_distance((55.5, -58, -8))[0])

    # Mirror4 copy 4 sketch → Mirror4 copy 4 (add, up to next)
    with BuildSketch(Plane(origin=(55.5, -58, 0), x_dir=(0.707106781187, -0.707106781187, 0), z_dir=(0.707106781187, 0.707106781187, 0)), mode=Mode.PRIVATE) as mirror4_copy_4_sk1:
        Rectangle(MIRROR4_COPY_4_SKETCH_W, MIRROR4_COPY_4_SKETCH_H)
    mirror4_copy_4_tool1 = extrude(mirror4_copy_4_sk1.sketch, amount=-MIRROR4_COPY_4_REACH, mode=Mode.PRIVATE) - part.part
    add(mirror4_copy_4_tool1.solids().sort_by_distance((55.5, -58, 0))[0])


solid = part.part
